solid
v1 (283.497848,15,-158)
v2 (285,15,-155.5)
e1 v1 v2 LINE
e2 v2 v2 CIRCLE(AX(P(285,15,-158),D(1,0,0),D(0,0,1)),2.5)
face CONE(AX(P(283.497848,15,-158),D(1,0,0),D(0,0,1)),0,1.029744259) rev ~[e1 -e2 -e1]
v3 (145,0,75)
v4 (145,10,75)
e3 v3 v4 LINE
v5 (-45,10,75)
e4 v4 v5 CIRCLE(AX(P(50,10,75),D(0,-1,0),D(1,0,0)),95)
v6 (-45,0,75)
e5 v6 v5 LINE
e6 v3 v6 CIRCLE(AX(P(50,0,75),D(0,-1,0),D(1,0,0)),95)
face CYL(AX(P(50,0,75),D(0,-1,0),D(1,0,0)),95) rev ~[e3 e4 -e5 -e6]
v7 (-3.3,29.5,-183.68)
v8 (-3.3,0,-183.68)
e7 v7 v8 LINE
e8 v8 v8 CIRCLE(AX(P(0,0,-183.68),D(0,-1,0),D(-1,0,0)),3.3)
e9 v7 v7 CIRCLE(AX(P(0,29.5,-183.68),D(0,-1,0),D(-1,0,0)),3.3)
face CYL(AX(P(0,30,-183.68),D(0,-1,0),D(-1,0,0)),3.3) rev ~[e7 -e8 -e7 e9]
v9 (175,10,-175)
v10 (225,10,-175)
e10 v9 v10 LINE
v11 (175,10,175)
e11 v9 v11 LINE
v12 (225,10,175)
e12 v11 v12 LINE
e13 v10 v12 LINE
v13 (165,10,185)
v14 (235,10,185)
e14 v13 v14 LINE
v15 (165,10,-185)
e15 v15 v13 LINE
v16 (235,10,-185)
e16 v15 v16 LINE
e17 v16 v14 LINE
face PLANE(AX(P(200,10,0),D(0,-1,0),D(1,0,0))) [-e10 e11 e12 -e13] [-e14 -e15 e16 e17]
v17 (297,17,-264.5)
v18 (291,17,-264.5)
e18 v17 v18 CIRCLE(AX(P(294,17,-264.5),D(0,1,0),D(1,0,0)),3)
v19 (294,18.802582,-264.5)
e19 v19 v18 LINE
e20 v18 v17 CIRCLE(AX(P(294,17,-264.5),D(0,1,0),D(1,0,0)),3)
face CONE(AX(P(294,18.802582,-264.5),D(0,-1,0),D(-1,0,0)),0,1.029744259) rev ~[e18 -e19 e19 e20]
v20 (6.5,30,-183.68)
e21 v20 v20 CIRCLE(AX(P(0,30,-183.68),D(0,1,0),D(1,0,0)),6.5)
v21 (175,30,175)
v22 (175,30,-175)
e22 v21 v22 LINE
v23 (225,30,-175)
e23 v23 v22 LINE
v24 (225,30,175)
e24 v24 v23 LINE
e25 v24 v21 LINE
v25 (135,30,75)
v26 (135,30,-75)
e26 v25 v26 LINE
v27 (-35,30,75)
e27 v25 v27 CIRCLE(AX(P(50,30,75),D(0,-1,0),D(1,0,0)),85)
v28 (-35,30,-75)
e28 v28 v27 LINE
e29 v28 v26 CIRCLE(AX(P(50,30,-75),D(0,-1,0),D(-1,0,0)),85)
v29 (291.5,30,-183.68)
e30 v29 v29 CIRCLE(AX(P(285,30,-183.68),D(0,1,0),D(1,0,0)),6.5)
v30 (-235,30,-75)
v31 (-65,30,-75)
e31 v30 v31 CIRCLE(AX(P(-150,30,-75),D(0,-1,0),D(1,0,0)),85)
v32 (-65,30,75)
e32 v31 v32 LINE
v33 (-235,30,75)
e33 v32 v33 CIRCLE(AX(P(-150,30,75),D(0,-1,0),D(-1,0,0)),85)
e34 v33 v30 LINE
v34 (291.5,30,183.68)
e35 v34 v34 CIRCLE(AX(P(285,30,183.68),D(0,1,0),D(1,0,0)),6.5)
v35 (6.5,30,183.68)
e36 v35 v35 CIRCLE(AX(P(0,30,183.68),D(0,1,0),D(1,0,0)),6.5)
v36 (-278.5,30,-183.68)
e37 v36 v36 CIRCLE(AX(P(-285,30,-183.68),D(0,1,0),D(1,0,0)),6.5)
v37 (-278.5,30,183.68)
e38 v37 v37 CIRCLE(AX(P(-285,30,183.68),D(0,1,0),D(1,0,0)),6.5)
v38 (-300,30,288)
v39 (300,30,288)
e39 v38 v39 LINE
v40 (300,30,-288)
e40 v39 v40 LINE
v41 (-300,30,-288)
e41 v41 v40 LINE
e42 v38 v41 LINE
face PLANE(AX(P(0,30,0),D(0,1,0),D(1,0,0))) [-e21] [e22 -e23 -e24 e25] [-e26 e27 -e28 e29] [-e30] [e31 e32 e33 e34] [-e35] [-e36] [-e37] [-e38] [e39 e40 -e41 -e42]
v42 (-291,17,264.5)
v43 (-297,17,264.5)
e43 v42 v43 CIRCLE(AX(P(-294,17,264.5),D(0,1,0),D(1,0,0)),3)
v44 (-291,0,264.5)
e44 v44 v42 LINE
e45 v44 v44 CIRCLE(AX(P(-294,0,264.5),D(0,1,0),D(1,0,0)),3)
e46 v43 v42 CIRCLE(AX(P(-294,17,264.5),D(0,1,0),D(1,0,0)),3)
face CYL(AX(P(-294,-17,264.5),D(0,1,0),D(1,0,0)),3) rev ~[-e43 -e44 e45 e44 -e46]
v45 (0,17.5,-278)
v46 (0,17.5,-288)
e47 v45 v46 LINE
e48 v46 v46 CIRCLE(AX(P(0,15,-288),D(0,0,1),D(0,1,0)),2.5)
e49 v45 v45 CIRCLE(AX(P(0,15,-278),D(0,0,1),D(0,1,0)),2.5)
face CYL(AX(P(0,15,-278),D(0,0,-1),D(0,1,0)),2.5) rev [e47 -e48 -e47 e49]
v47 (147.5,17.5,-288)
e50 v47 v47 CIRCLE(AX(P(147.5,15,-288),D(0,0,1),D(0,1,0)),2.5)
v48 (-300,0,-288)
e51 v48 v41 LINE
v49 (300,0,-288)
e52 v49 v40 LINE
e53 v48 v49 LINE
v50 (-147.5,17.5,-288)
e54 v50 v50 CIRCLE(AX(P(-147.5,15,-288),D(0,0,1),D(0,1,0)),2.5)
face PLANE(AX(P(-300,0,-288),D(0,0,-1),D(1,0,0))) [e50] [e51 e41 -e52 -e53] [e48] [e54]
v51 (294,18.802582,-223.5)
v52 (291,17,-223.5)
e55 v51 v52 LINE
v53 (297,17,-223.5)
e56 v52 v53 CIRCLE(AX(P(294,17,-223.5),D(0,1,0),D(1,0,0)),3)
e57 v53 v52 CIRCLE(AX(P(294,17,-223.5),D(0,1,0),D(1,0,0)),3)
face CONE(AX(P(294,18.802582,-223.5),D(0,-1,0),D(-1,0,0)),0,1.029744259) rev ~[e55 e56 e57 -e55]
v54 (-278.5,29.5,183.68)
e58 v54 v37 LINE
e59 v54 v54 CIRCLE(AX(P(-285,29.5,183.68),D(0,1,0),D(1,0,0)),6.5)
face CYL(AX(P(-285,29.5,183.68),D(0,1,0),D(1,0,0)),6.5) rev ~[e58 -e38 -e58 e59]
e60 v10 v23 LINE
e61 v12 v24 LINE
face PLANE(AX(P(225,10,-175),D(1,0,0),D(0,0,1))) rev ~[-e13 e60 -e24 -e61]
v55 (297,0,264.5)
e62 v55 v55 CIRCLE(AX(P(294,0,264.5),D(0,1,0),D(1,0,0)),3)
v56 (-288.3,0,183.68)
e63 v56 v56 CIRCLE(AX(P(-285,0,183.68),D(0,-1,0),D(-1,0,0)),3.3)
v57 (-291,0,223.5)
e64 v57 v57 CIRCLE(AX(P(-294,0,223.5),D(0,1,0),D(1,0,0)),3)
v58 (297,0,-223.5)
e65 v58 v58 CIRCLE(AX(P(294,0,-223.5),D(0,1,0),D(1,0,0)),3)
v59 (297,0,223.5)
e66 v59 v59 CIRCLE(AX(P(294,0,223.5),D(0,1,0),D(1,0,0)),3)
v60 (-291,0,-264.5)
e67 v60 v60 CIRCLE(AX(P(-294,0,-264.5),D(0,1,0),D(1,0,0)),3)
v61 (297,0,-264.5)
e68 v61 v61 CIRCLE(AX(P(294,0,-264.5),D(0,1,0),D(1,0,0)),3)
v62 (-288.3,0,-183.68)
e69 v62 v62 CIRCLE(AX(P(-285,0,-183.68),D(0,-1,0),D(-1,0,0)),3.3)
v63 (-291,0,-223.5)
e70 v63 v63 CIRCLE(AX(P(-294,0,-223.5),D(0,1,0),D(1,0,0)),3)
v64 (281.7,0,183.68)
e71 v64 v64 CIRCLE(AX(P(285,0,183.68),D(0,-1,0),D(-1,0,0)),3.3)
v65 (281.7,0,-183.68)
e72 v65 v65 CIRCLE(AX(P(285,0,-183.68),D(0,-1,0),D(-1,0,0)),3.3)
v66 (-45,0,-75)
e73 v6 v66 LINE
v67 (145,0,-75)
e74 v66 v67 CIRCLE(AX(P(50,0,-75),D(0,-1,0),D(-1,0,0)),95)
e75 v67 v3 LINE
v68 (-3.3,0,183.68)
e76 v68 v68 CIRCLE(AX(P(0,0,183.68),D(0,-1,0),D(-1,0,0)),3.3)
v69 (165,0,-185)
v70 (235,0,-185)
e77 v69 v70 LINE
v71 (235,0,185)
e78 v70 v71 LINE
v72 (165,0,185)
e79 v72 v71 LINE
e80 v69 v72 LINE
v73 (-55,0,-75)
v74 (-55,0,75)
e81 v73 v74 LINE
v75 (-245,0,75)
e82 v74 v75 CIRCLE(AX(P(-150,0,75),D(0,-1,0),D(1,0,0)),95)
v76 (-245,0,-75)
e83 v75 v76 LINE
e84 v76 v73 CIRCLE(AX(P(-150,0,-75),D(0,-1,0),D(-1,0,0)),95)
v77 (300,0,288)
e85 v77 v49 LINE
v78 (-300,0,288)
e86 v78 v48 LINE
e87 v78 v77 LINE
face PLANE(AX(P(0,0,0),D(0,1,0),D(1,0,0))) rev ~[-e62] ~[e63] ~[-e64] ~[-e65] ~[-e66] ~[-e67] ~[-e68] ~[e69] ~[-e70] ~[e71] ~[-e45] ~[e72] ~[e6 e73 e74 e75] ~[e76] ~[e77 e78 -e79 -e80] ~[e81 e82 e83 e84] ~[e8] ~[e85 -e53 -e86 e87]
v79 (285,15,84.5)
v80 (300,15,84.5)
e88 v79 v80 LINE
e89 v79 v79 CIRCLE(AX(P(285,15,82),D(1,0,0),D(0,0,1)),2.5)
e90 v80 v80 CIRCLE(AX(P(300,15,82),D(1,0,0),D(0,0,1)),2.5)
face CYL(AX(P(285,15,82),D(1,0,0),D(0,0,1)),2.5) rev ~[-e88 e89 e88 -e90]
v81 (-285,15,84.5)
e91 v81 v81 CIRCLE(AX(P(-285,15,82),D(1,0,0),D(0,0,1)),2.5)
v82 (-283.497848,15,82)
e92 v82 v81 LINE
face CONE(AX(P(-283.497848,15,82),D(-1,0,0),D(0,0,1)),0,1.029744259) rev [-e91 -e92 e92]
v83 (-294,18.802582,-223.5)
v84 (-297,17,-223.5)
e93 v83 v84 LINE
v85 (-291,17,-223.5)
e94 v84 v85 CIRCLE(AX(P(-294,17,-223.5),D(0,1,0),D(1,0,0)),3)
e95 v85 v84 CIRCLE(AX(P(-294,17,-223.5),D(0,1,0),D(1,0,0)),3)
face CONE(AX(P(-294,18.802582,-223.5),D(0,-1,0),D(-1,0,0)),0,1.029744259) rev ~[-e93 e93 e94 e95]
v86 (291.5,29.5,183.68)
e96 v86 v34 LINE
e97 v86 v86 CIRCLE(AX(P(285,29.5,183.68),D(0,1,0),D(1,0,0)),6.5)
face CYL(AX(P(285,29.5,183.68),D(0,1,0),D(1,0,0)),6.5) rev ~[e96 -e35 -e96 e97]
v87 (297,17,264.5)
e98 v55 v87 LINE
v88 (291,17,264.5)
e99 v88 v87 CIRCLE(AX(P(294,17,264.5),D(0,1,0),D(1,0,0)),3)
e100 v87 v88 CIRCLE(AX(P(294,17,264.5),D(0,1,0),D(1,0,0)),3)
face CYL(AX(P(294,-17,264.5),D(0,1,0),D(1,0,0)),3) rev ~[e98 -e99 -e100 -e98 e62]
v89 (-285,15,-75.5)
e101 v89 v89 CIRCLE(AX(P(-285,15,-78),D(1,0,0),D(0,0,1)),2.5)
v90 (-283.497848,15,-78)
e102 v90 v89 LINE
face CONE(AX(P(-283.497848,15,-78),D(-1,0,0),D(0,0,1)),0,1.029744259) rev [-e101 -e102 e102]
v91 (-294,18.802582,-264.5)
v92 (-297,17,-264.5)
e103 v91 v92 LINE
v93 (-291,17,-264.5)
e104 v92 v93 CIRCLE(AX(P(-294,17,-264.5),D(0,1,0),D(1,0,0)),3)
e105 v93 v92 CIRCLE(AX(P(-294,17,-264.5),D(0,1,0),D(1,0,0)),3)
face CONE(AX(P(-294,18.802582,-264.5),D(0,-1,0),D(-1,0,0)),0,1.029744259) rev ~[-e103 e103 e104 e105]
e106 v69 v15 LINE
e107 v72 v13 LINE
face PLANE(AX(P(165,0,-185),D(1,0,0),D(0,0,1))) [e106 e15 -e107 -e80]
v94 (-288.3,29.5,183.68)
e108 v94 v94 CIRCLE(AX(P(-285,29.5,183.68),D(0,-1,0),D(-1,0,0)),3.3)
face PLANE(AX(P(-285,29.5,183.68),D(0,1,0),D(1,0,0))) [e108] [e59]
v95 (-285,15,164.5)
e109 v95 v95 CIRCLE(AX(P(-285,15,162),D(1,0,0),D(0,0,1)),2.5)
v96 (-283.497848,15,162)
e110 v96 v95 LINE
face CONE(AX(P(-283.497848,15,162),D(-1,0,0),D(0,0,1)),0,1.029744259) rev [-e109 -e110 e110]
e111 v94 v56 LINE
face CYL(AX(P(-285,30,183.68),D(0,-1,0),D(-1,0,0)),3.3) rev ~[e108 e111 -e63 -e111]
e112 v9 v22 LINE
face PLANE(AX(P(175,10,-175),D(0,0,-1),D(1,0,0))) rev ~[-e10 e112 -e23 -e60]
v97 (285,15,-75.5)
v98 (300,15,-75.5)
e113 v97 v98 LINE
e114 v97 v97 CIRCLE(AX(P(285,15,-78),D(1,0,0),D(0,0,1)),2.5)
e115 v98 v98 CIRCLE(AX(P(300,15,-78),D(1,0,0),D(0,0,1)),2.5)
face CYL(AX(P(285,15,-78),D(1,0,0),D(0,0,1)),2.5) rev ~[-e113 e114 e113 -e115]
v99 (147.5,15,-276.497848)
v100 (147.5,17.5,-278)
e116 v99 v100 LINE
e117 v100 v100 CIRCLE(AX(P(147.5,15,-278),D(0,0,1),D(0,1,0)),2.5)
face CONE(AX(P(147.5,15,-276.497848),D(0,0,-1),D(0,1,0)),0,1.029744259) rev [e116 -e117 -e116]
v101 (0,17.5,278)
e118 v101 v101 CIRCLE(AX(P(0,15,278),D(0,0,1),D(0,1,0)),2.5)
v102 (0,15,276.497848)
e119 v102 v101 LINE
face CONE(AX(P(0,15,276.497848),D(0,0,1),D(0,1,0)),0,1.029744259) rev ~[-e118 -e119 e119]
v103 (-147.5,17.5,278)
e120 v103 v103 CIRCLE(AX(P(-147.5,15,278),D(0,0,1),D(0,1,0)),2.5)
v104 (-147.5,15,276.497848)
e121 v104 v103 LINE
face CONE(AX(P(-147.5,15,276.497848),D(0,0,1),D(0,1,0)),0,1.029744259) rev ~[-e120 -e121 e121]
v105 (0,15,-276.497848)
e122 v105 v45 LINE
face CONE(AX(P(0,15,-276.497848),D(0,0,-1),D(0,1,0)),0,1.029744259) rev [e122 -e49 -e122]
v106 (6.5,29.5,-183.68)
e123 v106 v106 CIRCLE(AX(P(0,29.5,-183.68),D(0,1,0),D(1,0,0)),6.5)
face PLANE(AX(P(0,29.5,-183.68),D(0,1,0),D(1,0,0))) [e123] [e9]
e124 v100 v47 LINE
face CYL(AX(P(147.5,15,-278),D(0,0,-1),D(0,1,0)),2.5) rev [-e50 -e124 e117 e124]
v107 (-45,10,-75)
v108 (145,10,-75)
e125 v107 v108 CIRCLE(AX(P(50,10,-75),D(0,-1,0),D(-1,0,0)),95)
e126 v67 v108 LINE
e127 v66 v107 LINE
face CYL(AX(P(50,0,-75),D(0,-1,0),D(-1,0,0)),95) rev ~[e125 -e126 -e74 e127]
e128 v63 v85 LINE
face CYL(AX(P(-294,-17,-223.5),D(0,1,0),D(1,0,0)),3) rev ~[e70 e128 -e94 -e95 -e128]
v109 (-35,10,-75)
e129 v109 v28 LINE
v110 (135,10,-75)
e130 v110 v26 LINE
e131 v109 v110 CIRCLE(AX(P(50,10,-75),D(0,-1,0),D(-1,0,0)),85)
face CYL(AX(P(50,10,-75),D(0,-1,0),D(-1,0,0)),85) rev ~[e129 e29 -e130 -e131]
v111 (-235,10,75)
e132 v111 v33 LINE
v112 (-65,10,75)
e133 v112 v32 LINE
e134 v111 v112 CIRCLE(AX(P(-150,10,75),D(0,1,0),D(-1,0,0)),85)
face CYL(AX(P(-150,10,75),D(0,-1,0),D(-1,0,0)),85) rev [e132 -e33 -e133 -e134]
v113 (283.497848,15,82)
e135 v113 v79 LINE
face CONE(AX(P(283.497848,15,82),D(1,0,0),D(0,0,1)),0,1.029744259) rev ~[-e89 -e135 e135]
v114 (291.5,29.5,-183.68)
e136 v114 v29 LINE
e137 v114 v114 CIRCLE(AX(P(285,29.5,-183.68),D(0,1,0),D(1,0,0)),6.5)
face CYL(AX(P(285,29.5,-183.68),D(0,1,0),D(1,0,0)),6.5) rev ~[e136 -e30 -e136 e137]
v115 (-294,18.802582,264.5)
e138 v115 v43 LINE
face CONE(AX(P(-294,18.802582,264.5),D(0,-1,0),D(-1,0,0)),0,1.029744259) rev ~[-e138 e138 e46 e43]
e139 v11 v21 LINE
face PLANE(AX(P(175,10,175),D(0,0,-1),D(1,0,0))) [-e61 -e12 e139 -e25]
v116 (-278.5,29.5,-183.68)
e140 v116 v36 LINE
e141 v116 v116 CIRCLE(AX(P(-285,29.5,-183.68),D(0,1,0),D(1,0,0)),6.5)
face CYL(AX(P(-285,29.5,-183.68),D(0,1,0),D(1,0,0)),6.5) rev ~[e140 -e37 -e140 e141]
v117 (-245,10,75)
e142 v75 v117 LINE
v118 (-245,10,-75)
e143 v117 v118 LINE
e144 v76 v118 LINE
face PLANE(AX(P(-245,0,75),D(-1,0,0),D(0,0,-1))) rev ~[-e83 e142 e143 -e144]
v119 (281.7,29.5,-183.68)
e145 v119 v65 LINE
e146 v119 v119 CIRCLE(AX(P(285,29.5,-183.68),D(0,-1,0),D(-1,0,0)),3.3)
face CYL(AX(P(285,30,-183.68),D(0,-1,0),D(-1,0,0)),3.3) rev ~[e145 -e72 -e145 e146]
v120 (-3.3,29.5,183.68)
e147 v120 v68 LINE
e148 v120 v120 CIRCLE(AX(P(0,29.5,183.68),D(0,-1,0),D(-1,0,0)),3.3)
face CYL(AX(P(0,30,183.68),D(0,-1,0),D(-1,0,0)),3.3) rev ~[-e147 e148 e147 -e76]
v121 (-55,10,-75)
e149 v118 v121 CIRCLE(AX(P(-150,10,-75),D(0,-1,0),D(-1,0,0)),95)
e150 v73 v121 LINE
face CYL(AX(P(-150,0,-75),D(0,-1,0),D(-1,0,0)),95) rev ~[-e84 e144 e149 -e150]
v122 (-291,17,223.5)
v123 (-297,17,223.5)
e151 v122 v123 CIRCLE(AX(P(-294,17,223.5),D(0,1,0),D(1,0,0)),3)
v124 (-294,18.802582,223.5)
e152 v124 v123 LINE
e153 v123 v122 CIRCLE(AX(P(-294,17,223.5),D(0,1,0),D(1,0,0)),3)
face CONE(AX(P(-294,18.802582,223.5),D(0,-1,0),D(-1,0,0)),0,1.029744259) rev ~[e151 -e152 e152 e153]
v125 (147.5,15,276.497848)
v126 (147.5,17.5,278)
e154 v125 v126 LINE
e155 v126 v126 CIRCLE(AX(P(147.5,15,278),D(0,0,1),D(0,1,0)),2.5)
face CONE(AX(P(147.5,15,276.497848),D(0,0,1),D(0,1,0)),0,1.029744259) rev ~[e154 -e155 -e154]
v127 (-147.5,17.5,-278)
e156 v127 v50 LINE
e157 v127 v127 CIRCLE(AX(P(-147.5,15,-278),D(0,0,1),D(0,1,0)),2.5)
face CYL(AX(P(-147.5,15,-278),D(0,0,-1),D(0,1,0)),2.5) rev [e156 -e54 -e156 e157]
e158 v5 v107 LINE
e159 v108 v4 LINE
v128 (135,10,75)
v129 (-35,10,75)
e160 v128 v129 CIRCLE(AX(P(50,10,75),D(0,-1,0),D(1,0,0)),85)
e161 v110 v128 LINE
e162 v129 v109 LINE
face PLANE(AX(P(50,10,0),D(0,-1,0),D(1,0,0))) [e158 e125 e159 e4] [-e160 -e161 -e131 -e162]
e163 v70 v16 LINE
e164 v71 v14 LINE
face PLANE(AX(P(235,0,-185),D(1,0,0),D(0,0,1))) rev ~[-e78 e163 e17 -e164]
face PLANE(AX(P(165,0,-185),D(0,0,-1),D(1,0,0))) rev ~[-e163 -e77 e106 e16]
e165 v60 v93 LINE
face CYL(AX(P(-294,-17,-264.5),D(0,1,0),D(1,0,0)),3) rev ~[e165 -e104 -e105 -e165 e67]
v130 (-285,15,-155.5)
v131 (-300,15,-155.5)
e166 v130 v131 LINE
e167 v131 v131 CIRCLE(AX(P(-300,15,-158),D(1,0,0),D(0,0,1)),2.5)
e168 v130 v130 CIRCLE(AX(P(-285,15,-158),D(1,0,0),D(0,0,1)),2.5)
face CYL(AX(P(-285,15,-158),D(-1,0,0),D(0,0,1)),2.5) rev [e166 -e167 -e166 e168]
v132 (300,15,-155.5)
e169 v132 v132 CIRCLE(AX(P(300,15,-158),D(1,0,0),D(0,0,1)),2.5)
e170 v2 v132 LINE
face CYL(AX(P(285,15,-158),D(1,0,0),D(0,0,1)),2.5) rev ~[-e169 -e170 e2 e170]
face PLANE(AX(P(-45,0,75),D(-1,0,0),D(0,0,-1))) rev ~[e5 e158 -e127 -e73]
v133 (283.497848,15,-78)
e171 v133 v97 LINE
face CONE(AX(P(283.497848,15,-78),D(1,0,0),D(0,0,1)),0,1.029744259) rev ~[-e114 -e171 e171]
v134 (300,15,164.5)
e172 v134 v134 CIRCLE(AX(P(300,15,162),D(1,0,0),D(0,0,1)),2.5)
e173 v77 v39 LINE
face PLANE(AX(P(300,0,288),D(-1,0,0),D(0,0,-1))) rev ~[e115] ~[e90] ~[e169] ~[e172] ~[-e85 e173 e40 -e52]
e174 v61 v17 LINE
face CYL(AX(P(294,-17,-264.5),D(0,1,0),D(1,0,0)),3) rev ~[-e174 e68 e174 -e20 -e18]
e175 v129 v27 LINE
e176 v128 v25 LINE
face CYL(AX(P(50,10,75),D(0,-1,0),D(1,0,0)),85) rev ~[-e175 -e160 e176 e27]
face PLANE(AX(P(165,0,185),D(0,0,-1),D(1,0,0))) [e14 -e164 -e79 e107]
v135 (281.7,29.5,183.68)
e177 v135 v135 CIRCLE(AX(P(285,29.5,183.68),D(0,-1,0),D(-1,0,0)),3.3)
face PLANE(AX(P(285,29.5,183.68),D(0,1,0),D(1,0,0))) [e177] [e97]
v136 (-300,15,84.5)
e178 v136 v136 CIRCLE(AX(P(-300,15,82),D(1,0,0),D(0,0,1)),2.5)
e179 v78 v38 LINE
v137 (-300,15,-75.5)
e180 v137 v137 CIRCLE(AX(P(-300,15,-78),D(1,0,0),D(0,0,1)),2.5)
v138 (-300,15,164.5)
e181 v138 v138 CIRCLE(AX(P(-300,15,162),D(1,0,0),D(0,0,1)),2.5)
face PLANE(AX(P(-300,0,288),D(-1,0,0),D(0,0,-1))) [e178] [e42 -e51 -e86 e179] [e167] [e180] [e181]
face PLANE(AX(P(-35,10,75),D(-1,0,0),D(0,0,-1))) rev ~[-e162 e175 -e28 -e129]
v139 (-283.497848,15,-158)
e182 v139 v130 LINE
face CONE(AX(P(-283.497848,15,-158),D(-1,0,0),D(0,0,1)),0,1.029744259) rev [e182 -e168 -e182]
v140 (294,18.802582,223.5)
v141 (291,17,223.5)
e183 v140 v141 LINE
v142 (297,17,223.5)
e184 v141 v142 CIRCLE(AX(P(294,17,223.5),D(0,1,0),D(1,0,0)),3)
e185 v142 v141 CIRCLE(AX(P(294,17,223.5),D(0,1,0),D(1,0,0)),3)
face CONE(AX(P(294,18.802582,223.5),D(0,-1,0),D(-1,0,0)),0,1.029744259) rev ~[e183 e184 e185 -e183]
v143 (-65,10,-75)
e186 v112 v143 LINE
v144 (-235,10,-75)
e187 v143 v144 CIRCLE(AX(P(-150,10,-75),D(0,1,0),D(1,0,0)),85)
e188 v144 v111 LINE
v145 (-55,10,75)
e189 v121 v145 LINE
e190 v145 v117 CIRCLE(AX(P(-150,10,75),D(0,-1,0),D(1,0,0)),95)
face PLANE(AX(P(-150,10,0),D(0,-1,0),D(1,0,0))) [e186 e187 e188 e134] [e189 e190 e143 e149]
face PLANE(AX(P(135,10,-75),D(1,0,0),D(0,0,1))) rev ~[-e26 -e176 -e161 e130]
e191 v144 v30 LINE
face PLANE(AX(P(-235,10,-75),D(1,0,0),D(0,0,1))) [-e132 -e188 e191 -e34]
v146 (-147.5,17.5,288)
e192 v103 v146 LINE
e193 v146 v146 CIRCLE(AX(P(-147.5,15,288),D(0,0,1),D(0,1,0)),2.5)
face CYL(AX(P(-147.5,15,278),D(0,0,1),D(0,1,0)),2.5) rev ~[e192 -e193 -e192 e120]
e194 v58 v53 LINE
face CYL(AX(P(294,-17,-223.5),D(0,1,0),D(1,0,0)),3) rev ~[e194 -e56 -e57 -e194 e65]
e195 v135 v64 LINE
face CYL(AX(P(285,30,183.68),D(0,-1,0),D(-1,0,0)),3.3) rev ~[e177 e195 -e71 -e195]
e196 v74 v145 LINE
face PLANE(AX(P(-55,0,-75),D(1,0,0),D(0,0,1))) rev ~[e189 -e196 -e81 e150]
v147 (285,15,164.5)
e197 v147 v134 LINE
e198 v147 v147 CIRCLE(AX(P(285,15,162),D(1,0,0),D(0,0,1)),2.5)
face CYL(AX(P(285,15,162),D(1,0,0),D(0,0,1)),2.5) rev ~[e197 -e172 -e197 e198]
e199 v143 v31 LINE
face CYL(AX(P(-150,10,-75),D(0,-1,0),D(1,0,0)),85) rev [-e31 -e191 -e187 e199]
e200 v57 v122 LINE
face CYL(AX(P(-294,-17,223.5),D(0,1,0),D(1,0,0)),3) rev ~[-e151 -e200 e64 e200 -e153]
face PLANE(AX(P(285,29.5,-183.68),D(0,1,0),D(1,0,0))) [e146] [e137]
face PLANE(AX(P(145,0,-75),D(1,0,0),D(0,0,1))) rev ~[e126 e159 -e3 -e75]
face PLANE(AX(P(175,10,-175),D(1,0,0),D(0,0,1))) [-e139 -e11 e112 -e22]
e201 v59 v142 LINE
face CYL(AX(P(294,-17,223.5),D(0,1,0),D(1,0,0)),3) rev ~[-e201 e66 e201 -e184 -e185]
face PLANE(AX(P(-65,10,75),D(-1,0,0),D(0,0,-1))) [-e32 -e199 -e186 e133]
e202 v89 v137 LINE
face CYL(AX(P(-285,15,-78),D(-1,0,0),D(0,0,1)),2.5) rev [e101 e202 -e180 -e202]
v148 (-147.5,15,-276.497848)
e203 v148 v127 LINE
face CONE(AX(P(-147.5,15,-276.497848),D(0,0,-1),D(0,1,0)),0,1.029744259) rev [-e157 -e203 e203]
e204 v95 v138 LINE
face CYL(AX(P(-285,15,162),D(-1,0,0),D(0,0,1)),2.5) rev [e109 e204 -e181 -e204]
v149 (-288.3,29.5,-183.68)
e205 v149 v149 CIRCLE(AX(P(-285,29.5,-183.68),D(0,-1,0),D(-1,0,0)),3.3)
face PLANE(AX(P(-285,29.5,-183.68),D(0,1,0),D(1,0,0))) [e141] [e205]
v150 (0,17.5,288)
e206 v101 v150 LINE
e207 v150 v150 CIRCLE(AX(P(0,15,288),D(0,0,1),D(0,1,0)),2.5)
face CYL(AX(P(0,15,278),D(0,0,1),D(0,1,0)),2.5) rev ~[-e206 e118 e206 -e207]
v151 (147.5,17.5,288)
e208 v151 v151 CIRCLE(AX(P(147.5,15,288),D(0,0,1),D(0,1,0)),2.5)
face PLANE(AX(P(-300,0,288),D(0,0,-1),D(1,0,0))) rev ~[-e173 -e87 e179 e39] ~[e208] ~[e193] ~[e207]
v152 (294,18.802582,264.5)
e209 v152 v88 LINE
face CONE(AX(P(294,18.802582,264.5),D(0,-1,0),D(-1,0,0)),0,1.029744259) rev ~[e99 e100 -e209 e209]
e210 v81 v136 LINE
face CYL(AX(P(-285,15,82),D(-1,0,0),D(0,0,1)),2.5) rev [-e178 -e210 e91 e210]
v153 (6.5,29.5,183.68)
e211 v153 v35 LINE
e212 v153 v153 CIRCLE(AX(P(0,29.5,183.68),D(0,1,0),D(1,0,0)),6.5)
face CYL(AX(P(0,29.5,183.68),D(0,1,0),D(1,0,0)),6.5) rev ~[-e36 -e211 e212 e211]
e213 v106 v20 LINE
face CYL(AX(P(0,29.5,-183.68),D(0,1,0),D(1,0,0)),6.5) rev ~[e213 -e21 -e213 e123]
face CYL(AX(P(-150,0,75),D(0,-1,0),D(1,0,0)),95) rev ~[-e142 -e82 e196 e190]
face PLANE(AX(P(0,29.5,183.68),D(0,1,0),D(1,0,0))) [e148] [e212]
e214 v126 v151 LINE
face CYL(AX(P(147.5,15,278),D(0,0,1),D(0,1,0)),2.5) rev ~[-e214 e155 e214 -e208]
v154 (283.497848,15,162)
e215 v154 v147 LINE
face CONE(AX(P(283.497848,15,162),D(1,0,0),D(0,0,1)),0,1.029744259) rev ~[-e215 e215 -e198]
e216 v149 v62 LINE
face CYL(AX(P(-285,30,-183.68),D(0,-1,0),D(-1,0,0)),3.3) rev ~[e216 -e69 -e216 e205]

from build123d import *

# Parameters (mm, degrees)
SKETCH_1_W                     = 600
SKETCH_1_H                     = 576
EXTRUDE_1_DEPTH                = 30
SKETCH_2_W                     = 70
SKETCH_2_H                     = 370
CUT_EXTRUDE_1_DEPTH            = 10
SKETCH_3_W                     = 50
SKETCH_3_H                     = 350
CUT_EXTRUDE_2_DEPTH            = 417.346009948
HOLE_WIZARD_M6_1_D             = 6
HOLE_WIZARD_M6_1_DEPTH         = 17
HOLE_WIZARD_M6_1_TIP           = 1.802581857
HOLE_WIZARD_M6_2_AT_2_COUNT    = 2
HOLE_WIZARD_M6_2_AT_2_PITCH    = 147.5
HOLE_WIZARD_M6_2_AT_3_COUNT    = 2
HOLE_WIZARD_M6_2_AT_3_PITCH    = 295
HOLE_WIZARD_M6_3_AT_2_COUNT    = 2
HOLE_WIZARD_M6_3_AT_2_PITCH    = 80
HOLE_WIZARD_M6_3_AT_3_COUNT    = 2
HOLE_WIZARD_M6_3_AT_3_PITCH    = 240
HOLE_WIZARD_M6_3_AT_4_COUNT    = 2
HOLE_WIZARD_M6_3_AT_4_PITCH    = 320
HOLE_WIZARD_M6_1_2_D           = 6.6
HOLE_WIZARD_M6_1_2_CBORE_D     = 13
HOLE_WIZARD_M6_1_2_CBORE_DEPTH = 0.5


with BuildPart() as part:
    # 草图1 → 凸台-拉伸1 (new body)
    with BuildSketch(Plane(origin=(0, 0, 0), x_dir=(1, 0, 0), z_dir=(0, 1, 0))):
        Rectangle(SKETCH_1_W, SKETCH_1_H)
    extrude(amount=EXTRUDE_1_DEPTH)

    # 草图2 → 切除-拉伸1 (cut)
    with BuildSketch(Plane.XZ):
        with BuildLine():
            Line((-245, 75), (-245, -75))
            ThreePointArc((-245, -75), (-150, -170), (-55, -75))
            Line((-55, -75), (-55, 75))
            ThreePointArc((-55, 75), (-150, 170), (-245, 75))
        make_face()
        with Locations((200, 0)):
            Rectangle(SKETCH_2_W, SKETCH_2_H)
        with BuildLine():
            Line((-45, 75), (-45, -75))
            ThreePointArc((-45, -75), (50, -170), (145, -75))
            Line((145, -75), (145, 75))
            ThreePointArc((145, 75), (50, 170), (-45, 75))
        make_face()
    extrude(amount=-CUT_EXTRUDE_1_DEPTH, mode=Mode.SUBTRACT)

    # 草图3 → 切除-拉伸2 (cut, through all)
    with BuildSketch(Plane.XZ.offset(-10)):
        with BuildLine():
            Line((-35, 75), (-35, -75))
            ThreePointArc((-35, -75), (50, -160), (135, -75))
            Line((135, -75), (135, 75))
            ThreePointArc((135, 75), (50, 160), (-35, 75))
        make_face()
        with BuildLine():
            Line((-65, 75), (-65, -75))
            ThreePointArc((-65, -75), (-150, -160), (-235, -75))
            Line((-235, -75), (-235, 75))
            ThreePointArc((-235, 75), (-150, 160), (-65, 75))
        make_face()
        with Locations((200, 0)):
            Rectangle(SKETCH_3_W, SKETCH_3_H)
    extrude(amount=-CUT_EXTRUDE_2_DEPTH, mode=Mode.SUBTRACT)

    # Hole Wizard M6 _1
    with Locations(Plane(origin=(0, 0, 0), x_dir=(-1, 0, 0), z_dir=(0, -1, 0))):
        with Locations((294, -264.5), (294, -223.5), (-294, -264.5), (-294, -223.5), (-294, 264.5), (-294, 223.5), (294, 223.5), (294, 264.5)):
            Hole(HOLE_WIZARD_M6_1_D / 2, depth=HOLE_WIZARD_M6_1_DEPTH)
            with Locations((0, 0, -(HOLE_WIZARD_M6_1_DEPTH + HOLE_WIZARD_M6_1_TIP / 2))):  # 118° drill point
                Cone(0, HOLE_WIZARD_M6_1_D / 2, HOLE_WIZARD_M6_1_TIP, mode=Mode.SUBTRACT)

    # 草图19 → M6 螺纹孔2 (revolve, cut)
    with BuildSketch(Plane(origin=(147.5, 15, -288), x_dir=(0, 1, 0), z_dir=(1, 0, 0))):
        Polygon((0, 0), (0, 11.502151548), (2.5, 10), (2.5, 0), align=None)
    hole_wizard_m6_2 = revolve(axis=Axis((147.5, 15, -294.35), (0, 0, 1)), mode=Mode.SUBTRACT)

    # M6 螺纹孔2 at 2: M6 螺纹孔2 ×2
    with Locations(*[(-i * HOLE_WIZARD_M6_2_AT_2_PITCH, 0, 0) for i in range(1, HOLE_WIZARD_M6_2_AT_2_COUNT)]):
        add(hole_wizard_m6_2, mode=Mode.SUBTRACT)

    # M6 螺纹孔2 at 3: M6 螺纹孔2 ×2
    with Locations(*[(-i * HOLE_WIZARD_M6_2_AT_3_PITCH, 0, 0) for i in range(1, HOLE_WIZARD_M6_2_AT_3_COUNT)]):
        add(hole_wizard_m6_2, mode=Mode.SUBTRACT)

    # 镜向1: M6 螺纹孔2 across plane
    add(hole_wizard_m6_2.mirror(Plane.XY), mode=Mode.SUBTRACT)

    # 镜向1 copy 1 sketch → 镜向1 copy 1 (revolve, cut)
    with BuildSketch(Plane(origin=(0, 15, 288), x_dir=(0, 1, 0), z_dir=(1, 0, 0))):
        Polygon((0, 0), (0, -11.502151548), (2.5, -10), (2.5, 0), align=None)
    revolve(axis=Axis((0, 15, 294.35), (0, 0, 1)), mode=Mode.SUBTRACT)

    # 镜向1 copy 2 sketch → 镜向1 copy 2 (revolve, cut)
    with BuildSketch(Plane(origin=(-147.5, 15, 288), x_dir=(0, 1, 0), z_dir=(1, 0, 0))):
        Polygon((0, 0), (0, -11.502151548), (2.5, -10), (2.5, 0), align=None)
    revolve(axis=Axis((-147.5, 15, 294.35), (0, 0, 1)), mode=Mode.SUBTRACT)

    # 草图22 → M6 螺纹孔3 (revolve, cut)
    with BuildSketch(Plane(origin=(-300, 15, -158), x_dir=(0, 0, 1), z_dir=(0, 1, 0))):
        Polygon((0, 0), (0, 16.502151548), (2.5, 15), (2.5, 0), align=None)
    hole_wizard_m6_3 = revolve(axis=Axis((-306.35, 15, -158), (1, 0, 0)), mode=Mode.SUBTRACT)

    # M6 螺纹孔3 at 2: M6 螺纹孔3 ×2
    with Locations(*[(0, 0, i * HOLE_WIZARD_M6_3_AT_2_PITCH) for i in range(1, HOLE_WIZARD_M6_3_AT_2_COUNT)]):
        add(hole_wizard_m6_3, mode=Mode.SUBTRACT)

    # M6 螺纹孔3 at 3: M6 螺纹孔3 ×2
    with Locations(*[(0, 0, i * HOLE_WIZARD_M6_3_AT_3_PITCH) for i in range(1, HOLE_WIZARD_M6_3_AT_3_COUNT)]):
        add(hole_wizard_m6_3, mode=Mode.SUBTRACT)

    # M6 螺纹孔3 at 4: M6 螺纹孔3 ×2
    with Locations(*[(0, 0, i * HOLE_WIZARD_M6_3_AT_4_PITCH) for i in range(1, HOLE_WIZARD_M6_3_AT_4_COUNT)]):
        add(hole_wizard_m6_3, mode=Mode.SUBTRACT)

    # 镜向2: M6 螺纹孔3 across plane
    add(hole_wizard_m6_3.mirror(Plane(origin=(0, 0, 0), x_dir=(0, 0, 1), z_dir=(1, 0, 0))), mode=Mode.SUBTRACT)

    # 镜向2 copy 1 sketch → 镜向2 copy 1 (revolve, cut)
    with BuildSketch(Plane(origin=(300, 15, -78), x_dir=(0, 0, 1), z_dir=(0, 1, 0))):
        Polygon((0, 0), (0, -16.502151548), (2.5, -15), (2.5, 0), align=None)
    revolve(axis=Axis((306.35, 15, -78), (1, 0, 0)), mode=Mode.SUBTRACT)

    # 镜向2 copy 2 sketch → 镜向2 copy 2 (revolve, cut)
    with BuildSketch(Plane(origin=(300, 15, 82), x_dir=(0, 0, 1), z_dir=(0, 1, 0))):
        Polygon((0, 0), (0, -16.502151548), (2.5, -15), (2.5, 0), align=None)
    revolve(axis=Axis((306.35, 15, 82), (1, 0, 0)), mode=Mode.SUBTRACT)

    # 镜向2 copy 3 sketch → 镜向2 copy 3 (revolve, cut)
    with BuildSketch(Plane(origin=(300, 15, 162), x_dir=(0, 0, 1), z_dir=(0, 1, 0))):
        Polygon((0, 0), (0, -16.502151548), (2.5, -15), (2.5, 0), align=None)
    revolve(axis=Axis((306.35, 15, 162), (1, 0, 0)), mode=Mode.SUBTRACT)

    # Hole Wizard M6 _1 2 (through all)
    with Locations(Plane(origin=(0, 30, 0), x_dir=(1, 0, 0), z_dir=(0, 1, 0))):
        with Locations((-285, 183.68), (0, 183.68), (285, 183.68), (-285, -183.68), (0, -183.68), (285, -183.68)):
            CounterBoreHole(HOLE_WIZARD_M6_1_2_D / 2, HOLE_WIZARD_M6_1_2_CBORE_D / 2, HOLE_WIZARD_M6_1_2_CBORE_DEPTH)


solid = part.part
